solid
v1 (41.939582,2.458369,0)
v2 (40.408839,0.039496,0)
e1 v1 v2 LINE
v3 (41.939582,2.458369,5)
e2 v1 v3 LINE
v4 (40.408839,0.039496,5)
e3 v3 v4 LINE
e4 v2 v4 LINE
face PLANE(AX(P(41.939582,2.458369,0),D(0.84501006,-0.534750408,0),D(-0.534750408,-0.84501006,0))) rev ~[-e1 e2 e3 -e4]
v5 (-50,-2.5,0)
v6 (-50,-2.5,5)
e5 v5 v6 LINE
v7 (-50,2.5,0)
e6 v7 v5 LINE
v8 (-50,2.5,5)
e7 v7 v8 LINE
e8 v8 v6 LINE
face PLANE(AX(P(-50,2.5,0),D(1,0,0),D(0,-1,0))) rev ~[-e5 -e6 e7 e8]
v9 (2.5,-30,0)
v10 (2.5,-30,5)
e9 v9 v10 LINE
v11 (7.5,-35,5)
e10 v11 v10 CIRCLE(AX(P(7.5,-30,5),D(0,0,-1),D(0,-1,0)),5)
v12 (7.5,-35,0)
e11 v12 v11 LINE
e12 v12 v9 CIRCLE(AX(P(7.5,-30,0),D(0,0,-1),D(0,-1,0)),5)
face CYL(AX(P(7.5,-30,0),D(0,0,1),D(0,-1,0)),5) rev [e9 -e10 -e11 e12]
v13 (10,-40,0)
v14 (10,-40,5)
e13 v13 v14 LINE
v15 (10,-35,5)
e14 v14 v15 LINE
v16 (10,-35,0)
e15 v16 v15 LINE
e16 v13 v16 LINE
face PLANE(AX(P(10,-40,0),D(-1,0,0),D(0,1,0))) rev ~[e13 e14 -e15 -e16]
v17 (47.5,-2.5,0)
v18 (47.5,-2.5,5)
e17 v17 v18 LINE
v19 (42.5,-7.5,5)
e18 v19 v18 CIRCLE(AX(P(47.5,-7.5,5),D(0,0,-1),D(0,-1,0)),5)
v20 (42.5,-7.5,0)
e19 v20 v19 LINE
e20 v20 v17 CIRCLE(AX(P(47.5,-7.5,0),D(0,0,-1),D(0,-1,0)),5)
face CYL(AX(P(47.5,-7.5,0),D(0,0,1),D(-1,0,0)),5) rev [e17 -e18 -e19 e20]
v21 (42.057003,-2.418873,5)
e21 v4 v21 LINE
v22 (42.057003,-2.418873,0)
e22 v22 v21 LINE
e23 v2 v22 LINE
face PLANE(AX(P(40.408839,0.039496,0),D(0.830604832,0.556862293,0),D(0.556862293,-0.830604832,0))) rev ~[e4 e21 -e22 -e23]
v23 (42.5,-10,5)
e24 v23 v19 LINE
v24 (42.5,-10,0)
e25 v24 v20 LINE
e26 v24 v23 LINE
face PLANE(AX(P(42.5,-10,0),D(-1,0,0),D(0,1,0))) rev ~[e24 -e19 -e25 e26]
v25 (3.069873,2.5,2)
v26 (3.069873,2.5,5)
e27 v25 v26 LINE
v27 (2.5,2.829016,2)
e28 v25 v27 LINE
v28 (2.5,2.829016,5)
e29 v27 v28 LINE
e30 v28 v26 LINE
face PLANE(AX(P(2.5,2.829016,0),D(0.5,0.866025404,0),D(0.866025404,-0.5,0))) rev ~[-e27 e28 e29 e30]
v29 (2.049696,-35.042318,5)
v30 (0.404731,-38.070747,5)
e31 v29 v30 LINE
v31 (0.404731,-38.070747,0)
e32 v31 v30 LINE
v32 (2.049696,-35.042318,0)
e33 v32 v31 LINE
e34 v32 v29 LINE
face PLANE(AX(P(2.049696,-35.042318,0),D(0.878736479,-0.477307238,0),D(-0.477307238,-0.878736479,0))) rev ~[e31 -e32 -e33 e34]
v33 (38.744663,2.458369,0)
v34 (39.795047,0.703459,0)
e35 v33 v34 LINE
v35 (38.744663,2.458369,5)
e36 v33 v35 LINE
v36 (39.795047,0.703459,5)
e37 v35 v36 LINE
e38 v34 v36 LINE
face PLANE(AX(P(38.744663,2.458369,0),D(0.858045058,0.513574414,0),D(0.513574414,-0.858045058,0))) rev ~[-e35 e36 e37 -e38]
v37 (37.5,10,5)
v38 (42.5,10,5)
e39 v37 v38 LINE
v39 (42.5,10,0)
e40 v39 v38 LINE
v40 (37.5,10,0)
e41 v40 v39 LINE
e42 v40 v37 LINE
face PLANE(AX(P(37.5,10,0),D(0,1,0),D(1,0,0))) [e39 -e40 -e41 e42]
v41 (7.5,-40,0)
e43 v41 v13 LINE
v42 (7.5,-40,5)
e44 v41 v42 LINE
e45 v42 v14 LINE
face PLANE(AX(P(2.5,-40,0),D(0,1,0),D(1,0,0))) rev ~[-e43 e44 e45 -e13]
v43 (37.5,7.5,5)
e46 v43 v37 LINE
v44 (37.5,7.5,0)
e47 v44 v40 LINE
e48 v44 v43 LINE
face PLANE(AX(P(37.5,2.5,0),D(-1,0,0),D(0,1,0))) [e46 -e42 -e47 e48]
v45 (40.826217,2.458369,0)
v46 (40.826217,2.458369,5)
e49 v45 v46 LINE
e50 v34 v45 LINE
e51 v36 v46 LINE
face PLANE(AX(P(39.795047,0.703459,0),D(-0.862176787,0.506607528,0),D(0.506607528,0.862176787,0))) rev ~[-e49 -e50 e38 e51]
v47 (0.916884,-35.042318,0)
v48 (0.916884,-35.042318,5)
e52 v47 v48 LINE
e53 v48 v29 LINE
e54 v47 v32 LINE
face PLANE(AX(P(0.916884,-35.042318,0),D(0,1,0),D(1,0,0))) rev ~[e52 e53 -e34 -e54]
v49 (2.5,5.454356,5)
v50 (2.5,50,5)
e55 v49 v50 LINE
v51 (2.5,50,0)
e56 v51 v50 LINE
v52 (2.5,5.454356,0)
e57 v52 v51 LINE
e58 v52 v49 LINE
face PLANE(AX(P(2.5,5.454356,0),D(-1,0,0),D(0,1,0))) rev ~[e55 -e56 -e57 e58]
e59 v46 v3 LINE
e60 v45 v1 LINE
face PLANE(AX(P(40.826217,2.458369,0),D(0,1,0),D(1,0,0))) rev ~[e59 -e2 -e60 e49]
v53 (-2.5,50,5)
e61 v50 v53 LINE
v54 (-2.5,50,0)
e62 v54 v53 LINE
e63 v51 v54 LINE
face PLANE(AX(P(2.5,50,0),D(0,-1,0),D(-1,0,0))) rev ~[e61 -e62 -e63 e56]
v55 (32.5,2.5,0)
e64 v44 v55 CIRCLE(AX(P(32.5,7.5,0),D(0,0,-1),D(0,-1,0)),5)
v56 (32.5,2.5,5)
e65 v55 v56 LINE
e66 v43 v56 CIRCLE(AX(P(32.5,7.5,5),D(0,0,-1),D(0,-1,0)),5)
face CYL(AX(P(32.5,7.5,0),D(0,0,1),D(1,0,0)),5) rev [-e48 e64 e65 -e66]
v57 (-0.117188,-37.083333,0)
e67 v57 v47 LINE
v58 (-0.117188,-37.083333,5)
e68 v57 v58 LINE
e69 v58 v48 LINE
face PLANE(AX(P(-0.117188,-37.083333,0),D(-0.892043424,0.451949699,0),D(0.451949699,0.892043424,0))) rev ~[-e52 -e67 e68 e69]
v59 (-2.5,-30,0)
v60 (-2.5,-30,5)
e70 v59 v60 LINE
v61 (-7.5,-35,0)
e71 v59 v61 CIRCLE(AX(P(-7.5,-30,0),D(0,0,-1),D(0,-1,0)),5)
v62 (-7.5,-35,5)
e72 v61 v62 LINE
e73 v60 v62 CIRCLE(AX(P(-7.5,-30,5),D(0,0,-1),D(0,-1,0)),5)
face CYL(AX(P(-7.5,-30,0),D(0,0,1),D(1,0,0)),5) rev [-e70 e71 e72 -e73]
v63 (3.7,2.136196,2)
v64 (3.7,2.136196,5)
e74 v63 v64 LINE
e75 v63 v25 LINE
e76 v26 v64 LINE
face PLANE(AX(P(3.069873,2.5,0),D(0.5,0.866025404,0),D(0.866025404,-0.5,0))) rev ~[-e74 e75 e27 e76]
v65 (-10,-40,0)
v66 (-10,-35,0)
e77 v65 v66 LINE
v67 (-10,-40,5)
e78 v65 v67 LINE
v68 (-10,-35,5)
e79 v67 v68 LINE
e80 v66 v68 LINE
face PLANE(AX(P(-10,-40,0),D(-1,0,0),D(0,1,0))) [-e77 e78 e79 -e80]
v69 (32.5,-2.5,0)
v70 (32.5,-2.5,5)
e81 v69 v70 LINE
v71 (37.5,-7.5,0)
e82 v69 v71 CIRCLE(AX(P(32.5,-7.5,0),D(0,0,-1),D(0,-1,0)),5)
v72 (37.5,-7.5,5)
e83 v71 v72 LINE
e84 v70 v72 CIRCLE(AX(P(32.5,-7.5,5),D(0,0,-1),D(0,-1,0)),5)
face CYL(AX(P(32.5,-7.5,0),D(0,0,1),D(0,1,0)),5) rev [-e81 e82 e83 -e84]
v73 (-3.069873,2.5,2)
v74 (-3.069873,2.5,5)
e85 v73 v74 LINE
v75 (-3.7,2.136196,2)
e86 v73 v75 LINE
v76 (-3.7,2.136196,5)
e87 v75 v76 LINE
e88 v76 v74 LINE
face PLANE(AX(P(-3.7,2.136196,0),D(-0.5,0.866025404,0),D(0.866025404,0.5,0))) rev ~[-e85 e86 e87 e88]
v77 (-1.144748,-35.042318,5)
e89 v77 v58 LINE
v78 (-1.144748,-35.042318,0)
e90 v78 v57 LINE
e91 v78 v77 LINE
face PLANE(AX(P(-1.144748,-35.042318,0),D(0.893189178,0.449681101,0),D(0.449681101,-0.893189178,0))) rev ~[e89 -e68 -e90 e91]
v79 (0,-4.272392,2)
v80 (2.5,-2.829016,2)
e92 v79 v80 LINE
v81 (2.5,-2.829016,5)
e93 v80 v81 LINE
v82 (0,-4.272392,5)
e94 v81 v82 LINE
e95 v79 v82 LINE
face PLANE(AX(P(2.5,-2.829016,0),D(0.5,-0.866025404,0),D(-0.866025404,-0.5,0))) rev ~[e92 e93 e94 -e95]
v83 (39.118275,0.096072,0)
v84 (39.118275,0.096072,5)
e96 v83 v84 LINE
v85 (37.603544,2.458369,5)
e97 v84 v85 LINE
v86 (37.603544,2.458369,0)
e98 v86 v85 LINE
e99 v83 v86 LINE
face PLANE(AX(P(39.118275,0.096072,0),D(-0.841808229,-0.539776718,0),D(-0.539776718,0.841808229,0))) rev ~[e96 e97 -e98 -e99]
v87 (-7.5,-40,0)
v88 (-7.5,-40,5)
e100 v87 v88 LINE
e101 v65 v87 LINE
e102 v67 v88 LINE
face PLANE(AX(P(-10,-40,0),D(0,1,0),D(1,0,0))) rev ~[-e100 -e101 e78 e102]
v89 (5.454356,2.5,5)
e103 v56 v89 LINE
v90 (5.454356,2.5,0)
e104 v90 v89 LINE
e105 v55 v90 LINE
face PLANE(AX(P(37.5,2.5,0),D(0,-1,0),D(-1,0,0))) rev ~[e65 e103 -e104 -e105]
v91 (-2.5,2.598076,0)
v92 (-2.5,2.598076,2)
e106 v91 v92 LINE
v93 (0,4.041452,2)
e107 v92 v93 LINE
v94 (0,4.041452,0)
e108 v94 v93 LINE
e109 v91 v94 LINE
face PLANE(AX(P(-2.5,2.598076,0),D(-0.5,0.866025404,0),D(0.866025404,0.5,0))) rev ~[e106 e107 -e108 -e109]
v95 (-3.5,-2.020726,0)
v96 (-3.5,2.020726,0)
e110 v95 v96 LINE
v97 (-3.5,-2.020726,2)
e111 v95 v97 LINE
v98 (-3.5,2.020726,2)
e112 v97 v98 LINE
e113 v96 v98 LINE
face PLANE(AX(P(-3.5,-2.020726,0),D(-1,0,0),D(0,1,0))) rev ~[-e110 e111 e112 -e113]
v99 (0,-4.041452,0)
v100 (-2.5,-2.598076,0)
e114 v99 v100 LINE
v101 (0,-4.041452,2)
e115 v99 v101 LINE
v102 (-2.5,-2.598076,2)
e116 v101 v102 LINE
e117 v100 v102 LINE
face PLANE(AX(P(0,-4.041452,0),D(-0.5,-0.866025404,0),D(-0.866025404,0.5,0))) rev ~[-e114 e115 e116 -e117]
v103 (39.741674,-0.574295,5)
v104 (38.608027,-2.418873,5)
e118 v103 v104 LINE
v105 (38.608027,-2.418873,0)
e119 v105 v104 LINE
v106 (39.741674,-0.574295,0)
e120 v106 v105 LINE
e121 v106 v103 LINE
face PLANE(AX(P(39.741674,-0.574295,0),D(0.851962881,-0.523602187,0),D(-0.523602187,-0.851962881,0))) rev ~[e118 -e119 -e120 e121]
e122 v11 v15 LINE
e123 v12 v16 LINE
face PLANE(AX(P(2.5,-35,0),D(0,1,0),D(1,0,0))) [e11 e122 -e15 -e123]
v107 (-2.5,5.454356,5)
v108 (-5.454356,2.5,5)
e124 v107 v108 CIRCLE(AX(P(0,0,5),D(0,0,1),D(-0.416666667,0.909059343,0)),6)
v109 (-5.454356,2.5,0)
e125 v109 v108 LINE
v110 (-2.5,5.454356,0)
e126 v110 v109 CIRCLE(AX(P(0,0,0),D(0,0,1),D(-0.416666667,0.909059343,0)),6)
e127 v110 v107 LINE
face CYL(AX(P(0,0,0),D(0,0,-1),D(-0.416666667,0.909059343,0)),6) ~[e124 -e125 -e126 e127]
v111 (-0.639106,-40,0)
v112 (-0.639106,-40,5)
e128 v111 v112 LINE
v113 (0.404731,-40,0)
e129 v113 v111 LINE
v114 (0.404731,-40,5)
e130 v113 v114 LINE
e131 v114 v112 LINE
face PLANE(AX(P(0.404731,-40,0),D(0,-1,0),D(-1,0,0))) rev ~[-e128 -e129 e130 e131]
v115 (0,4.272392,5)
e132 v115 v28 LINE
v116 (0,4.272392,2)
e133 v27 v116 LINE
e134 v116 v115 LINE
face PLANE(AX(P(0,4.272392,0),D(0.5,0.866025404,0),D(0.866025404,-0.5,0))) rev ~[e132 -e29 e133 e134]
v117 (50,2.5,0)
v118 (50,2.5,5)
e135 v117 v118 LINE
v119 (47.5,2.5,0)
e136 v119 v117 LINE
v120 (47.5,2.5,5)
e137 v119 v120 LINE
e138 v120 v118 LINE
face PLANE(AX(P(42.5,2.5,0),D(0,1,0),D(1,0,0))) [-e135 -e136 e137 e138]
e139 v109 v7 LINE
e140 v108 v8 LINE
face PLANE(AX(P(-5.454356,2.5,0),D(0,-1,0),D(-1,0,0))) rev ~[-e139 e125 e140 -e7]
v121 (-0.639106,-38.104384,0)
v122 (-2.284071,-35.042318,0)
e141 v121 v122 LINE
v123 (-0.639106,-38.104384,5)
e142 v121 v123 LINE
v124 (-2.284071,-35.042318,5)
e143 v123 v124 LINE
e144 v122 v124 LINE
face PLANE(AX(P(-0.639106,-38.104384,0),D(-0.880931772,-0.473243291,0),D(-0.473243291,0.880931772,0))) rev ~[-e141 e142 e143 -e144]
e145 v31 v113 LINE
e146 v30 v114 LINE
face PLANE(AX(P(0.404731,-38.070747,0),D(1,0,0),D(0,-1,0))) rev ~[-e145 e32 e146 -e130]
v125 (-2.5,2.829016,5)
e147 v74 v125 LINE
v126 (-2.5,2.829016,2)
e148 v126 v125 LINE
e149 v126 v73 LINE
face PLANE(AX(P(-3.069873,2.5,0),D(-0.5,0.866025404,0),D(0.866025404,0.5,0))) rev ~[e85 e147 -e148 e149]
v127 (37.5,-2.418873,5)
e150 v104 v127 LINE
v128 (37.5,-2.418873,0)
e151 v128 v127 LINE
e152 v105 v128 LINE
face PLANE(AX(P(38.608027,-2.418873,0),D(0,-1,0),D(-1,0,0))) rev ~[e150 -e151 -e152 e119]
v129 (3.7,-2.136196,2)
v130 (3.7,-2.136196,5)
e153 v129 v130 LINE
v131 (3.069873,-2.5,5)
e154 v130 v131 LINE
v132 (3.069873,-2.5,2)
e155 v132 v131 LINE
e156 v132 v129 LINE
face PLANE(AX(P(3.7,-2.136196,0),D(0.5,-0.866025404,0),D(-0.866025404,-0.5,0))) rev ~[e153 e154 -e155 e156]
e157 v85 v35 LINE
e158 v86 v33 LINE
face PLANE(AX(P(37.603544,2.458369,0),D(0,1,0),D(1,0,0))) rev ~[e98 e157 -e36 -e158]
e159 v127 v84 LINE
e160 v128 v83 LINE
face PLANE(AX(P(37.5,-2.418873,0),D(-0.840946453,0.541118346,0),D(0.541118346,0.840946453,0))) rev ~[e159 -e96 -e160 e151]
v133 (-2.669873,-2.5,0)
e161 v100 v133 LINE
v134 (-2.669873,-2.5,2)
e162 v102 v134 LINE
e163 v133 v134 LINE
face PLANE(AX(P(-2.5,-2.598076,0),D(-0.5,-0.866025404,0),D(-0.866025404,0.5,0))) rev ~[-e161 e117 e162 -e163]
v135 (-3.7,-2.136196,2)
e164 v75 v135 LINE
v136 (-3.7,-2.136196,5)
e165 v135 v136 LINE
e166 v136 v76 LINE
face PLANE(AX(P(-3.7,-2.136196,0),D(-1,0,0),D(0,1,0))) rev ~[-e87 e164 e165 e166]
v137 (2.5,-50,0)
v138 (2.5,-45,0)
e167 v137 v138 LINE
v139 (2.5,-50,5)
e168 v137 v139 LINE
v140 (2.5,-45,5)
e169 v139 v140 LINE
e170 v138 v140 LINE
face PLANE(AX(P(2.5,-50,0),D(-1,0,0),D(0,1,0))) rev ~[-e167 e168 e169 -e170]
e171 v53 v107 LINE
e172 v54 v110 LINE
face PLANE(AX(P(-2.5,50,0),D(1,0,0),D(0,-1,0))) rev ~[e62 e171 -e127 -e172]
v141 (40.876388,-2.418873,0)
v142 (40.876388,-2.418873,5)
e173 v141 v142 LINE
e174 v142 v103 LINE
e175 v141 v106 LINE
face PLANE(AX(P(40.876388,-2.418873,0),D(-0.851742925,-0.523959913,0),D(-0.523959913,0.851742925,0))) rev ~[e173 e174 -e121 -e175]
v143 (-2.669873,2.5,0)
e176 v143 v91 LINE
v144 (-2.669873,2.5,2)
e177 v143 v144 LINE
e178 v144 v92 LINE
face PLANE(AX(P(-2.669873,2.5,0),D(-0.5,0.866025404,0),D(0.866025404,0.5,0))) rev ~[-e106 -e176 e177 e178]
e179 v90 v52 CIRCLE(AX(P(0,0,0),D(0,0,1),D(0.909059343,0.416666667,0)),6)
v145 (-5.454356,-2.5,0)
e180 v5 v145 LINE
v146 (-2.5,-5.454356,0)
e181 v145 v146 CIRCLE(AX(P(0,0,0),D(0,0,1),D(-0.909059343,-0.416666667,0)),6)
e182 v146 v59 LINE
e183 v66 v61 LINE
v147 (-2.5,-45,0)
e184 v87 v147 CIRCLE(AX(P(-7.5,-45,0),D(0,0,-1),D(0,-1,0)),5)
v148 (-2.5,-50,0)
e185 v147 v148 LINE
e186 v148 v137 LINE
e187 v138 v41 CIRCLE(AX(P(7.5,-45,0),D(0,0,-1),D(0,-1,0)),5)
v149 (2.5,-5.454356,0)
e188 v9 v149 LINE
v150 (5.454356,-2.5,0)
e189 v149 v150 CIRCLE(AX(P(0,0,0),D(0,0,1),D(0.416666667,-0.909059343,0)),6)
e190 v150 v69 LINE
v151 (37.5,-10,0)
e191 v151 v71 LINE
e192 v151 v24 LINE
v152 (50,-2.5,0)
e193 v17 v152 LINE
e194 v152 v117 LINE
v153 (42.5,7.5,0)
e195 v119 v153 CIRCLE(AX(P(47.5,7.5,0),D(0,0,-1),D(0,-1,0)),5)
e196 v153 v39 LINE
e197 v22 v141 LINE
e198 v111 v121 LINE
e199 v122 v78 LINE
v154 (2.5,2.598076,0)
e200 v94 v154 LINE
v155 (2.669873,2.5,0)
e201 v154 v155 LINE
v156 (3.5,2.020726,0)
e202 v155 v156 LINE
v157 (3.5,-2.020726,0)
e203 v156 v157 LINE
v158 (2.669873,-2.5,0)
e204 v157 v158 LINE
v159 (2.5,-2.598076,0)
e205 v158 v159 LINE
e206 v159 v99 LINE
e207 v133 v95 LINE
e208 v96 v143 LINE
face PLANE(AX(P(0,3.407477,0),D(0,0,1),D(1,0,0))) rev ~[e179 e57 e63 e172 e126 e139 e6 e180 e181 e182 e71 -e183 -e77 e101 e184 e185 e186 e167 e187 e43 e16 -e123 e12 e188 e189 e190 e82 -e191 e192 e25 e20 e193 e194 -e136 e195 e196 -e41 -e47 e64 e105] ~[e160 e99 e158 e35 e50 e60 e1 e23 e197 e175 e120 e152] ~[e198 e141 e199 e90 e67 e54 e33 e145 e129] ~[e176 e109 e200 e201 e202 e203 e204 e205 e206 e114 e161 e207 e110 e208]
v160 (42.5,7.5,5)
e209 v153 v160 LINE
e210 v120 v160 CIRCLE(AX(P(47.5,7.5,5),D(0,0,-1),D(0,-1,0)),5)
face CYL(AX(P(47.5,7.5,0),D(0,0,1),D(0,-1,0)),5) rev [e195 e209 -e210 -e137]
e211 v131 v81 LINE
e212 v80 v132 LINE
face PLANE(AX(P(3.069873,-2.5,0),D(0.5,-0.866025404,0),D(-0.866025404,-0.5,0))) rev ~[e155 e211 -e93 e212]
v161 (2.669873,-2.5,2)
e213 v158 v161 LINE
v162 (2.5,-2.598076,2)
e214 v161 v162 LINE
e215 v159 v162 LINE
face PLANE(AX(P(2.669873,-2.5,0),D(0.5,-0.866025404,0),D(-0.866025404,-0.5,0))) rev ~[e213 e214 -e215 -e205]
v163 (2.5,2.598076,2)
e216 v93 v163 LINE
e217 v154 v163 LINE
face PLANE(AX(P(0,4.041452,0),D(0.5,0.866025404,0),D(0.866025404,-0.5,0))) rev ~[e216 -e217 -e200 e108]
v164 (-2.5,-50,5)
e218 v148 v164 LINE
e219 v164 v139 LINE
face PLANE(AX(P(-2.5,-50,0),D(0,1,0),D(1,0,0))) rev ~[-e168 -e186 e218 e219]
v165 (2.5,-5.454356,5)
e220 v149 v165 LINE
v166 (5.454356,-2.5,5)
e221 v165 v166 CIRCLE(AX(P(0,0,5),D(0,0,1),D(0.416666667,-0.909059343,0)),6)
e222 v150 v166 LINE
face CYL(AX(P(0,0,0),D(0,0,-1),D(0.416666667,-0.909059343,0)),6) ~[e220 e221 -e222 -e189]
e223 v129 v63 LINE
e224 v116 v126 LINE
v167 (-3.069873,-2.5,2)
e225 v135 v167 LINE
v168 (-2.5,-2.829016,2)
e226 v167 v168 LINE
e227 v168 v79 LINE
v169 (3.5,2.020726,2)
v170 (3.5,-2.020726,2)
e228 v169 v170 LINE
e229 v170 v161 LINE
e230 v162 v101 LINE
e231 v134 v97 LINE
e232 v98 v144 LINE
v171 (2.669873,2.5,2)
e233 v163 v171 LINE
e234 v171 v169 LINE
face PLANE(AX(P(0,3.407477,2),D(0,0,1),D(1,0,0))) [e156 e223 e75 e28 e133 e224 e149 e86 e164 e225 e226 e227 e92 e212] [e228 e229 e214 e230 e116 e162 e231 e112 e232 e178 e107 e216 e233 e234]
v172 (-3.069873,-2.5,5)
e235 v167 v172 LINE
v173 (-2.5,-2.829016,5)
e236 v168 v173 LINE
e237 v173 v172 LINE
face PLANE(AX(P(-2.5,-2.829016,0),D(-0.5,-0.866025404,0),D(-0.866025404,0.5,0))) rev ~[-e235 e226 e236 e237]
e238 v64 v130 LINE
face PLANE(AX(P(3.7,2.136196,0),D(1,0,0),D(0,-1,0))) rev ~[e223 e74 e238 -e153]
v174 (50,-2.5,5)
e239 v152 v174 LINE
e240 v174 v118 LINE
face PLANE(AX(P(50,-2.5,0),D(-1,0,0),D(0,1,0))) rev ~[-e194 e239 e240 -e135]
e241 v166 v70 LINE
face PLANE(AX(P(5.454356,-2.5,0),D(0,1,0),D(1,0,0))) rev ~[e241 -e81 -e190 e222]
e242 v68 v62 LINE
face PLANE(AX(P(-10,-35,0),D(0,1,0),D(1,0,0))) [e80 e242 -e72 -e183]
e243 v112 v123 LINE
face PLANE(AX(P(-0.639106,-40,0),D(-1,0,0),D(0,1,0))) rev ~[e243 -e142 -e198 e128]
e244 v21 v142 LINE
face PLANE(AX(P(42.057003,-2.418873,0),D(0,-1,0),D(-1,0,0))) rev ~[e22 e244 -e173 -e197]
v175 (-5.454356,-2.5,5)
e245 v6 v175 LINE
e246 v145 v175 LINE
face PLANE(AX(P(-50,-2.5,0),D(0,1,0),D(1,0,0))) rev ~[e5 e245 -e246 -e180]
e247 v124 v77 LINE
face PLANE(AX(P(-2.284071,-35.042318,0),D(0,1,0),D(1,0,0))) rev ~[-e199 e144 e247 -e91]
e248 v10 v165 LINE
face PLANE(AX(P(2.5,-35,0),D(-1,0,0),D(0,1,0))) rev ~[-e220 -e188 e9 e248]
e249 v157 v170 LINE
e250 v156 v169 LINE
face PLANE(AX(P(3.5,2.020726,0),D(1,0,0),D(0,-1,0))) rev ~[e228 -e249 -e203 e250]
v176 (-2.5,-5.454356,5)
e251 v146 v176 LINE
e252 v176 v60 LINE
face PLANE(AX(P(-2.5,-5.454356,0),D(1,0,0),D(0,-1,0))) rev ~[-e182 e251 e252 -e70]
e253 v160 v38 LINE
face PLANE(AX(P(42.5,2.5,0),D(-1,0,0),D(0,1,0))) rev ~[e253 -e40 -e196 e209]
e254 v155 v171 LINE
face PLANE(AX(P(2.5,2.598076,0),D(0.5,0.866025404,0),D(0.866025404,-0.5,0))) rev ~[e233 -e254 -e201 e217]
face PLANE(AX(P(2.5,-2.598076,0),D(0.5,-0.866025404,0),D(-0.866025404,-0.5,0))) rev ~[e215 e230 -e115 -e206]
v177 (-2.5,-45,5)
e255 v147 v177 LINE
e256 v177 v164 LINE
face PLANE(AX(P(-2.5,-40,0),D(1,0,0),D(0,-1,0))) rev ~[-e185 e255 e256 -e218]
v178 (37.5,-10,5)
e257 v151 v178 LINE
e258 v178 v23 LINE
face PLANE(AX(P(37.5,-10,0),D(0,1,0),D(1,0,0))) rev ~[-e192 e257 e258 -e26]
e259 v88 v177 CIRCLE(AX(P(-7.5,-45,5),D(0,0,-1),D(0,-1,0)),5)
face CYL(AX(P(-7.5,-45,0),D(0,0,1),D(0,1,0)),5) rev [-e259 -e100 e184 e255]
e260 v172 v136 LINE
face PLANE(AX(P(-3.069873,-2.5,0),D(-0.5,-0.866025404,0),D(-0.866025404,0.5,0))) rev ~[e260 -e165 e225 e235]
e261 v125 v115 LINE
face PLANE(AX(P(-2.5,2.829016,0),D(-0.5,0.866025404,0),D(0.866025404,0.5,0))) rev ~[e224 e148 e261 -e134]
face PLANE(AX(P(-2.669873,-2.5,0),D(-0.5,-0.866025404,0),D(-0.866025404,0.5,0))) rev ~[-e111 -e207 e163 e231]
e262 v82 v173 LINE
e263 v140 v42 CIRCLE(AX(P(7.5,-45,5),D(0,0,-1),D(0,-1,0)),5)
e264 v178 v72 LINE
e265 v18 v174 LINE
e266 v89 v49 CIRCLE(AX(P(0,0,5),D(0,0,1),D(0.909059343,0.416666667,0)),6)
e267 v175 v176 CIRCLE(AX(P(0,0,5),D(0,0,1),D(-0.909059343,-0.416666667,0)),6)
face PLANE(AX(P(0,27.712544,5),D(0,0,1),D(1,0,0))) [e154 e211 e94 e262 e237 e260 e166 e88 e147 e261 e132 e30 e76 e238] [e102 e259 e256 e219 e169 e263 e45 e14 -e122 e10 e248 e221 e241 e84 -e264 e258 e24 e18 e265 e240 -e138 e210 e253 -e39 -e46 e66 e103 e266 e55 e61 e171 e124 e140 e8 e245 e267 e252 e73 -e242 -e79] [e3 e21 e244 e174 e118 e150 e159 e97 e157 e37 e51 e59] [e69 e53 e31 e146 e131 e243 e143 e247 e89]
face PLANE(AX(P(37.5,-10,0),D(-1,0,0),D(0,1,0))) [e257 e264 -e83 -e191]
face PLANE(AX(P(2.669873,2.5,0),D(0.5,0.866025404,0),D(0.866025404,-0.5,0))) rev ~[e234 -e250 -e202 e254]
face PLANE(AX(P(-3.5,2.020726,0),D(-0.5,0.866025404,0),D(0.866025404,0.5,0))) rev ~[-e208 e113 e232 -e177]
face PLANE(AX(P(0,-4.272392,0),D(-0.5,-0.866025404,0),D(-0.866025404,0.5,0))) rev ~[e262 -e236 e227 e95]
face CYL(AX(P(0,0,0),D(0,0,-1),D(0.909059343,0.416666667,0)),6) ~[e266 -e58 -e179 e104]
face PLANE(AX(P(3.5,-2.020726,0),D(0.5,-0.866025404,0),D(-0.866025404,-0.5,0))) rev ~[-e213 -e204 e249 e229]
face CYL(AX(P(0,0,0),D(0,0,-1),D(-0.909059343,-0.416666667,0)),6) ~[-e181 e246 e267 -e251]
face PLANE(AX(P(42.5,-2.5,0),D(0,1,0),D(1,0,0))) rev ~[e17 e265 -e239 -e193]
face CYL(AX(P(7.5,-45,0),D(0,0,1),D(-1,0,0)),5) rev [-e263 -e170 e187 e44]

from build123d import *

# Parameters (mm, degrees)
F0_W     = 5
F0_H     = 7.5
F0_W_2   = 7.5
F0_H_2   = 5
F1_DEPTH = 5
F2_DEPTH = 2
F3_R     = 5


with BuildPart() as f1:
    # F0 (on Top) → F1 (new body)
    with BuildSketch(Plane.XY):
        with BuildLine():
            Line((2.5, 5.4543560573), (2.5, 50))
            Line((2.5, 50), (-2.5, 50))
            Line((-2.5, 50), (-2.5, 5.4543560573))
            ThreePointArc((-2.5, 5.4543560573), (0, 6), (2.5, 5.4543560573))
        make_face()
        with BuildLine():
            ThreePointArc((5.4543560573, 2.5), (4.2426406871, 4.2426406871), (2.5, 5.4543560573))
            Line((2.5, 5.4543560573), (2.5, 2.829016319))
            Line((2.5, 2.829016319), (3.0698729811, 2.5))
            Line((3.0698729811, 2.5), (5.4543560573, 2.5))
        make_face()
        with BuildLine():
            Line((2.5, 2.829016319), (2.5, 5.4543560573))
            ThreePointArc((2.5, 5.4543560573), (0, 6), (-2.5, 5.4543560573))
            Line((-2.5, 5.4543560573), (-2.5, 2.829016319))
            Line((-2.5, 2.829016319), (0, 4.272391992))
            Line((0, 4.272391992), (2.5, 2.829016319))
        make_face()
        with BuildLine():
            Line((-2.5, 2.829016319), (-2.5, 5.4543560573))
            ThreePointArc((-2.5, 5.4543560573), (-4.2426406871, 4.2426406871), (-5.4543560573, 2.5))
            Line((-5.4543560573, 2.5), (-3.0698729811, 2.5))
            Line((-3.0698729811, 2.5), (-2.5, 2.829016319))
        make_face()
        with BuildLine():
            ThreePointArc((6, 0), (5.8620020617, 1.2794263668), (5.4543560573, 2.5))
            Line((5.4543560573, 2.5), (3.0698729811, 2.5))
            Line((3.0698729811, 2.5), (3.7, 2.136195996))
            Line((3.7, 2.136195996), (3.7, -2.136195996))
            Line((3.7, -2.136195996), (3.0698729811, -2.5))
            Line((3.0698729811, -2.5), (5.4543560573, -2.5))
            ThreePointArc((5.4543560573, -2.5), (5.8620020617, -1.2794263668), (6, 0))
        make_face()
        with BuildLine():
            Line((37.5, 2.5), (5.4543560573, 2.5))
            ThreePointArc((5.4543560573, 2.5), (5.8620020617, 1.2794263668), (6, 0))
            ThreePointArc((6, 0), (5.8620020617, -1.2794263668), (5.4543560573, -2.5))
            Line((5.4543560573, -2.5), (37.5, -2.5))
            Line((37.5, -2.5), (37.5, -2.4188727583))
            Line((37.5, -2.4188727583), (37.5, 2.5))
        make_face()
        with BuildLine():
            ThreePointArc((-5.4543560573, -2.5), (-6, 0), (-5.4543560573, 2.5))
            Line((-5.4543560573, 2.5), (-50, 2.5))
            Line((-50, 2.5), (-50, -2.5))
            Line((-50, -2.5), (-5.4543560573, -2.5))
        make_face()
        with BuildLine():
            Line((-3.0698729811, 2.5), (-5.4543560573, 2.5))
            ThreePointArc((-5.4543560573, 2.5), (-6, 0), (-5.4543560573, -2.5))
            Line((-5.4543560573, -2.5), (-3.0698729811, -2.5))
            Line((-3.0698729811, -2.5), (-3.7, -2.136195996))
            Line((-3.7, -2.136195996), (-3.7, 2.136195996))
            Line((-3.7, 2.136195996), (-3.0698729811, 2.5))
        make_face()
        with Locations((40, 6.25)):
            Rectangle(F0_W, F0_H)
        Polygon((42.5, 2.5), (37.5, 2.5), (37.5, -2.4188727583), (37.5, -2.5), (42.5, -2.5), align=None)
        Polygon((38.6080273271, -2.4188727583), (37.5, -2.4188727583), (39.1182749787, 0.0960717336), (37.6035439795, 2.4583689155), (38.7446626815, 2.4583689155), (39.7950469684, 0.7034585824), (40.8262169086, 2.4583689155), (41.9395815542, 2.4583689155), (40.4088385995, 0.0394961571), (42.0570025619, -2.4188727583), (40.8763877028, -2.4188727583), (39.7416737831, -0.574295474), align=None, mode=Mode.SUBTRACT)
        with BuildLine():
            Line((-3.0698729811, -2.5), (-5.4543560573, -2.5))
            ThreePointArc((-5.4543560573, -2.5), (-4.2426406871, -4.2426406871), (-2.5, -5.4543560573))
            Line((-2.5, -5.4543560573), (-2.5, -2.829016319))
            Line((-2.5, -2.829016319), (-3.0698729811, -2.5))
        make_face()
        with Locations((46.25, 0)):
            Rectangle(F0_W_2, F0_H_2)
        with BuildLine():
            ThreePointArc((2.5, -5.4543560573), (4.2426406871, -4.2426406871), (5.4543560573, -2.5))
            Line((5.4543560573, -2.5), (3.0698729811, -2.5))
            Line((3.0698729811, -2.5), (2.5, -2.829016319))
            Line((2.5, -2.829016319), (2.5, -5.4543560573))
        make_face()
        with BuildLine():
            ThreePointArc((2.5, -5.4543560573), (0, -6), (-2.5, -5.4543560573))
            Line((-2.5, -5.4543560573), (-2.5, -35))
            Line((-2.5, -35), (2.5, -35))
            Line((2.5, -35), (2.5, -5.4543560573))
        make_face()
        with BuildLine():
            Line((-2.5, -2.829016319), (-2.5, -5.4543560573))
            ThreePointArc((-2.5, -5.4543560573), (0, -6), (2.5, -5.4543560573))
            Line((2.5, -5.4543560573), (2.5, -2.829016319))
            Line((2.5, -2.829016319), (0, -4.272391992))
            Line((0, -4.272391992), (-2.5, -2.829016319))
        make_face()
        with Locations((40, -6.25)):
            Rectangle(F0_W, F0_H)
        Polygon((2.5, -35), (-2.5, -35), (-2.5, -40), (-0.6391059028, -40), (-0.6391059028, -38.1043836806), (-2.2840711806, -35.0423177083), (-1.1447482639, -35.0423177083), (-0.1171875, -37.0833333333), (0.9168836806, -35.0423177083), (2.0496961806, -35.0423177083), (0.4047309028, -38.0707465278), (0.4047309028, -40), (2.5, -40), align=None)
        with Locations((-6.25, -37.5)):
            Rectangle(F0_W_2, F0_H_2)
        with Locations((6.25, -37.5)):
            Rectangle(F0_W_2, F0_H_2)
        Polygon((-0.6391059028, -40), (-2.5, -40), (-2.5, -50), (2.5, -50), (2.5, -40), (0.4047309028, -40), align=None)
    extrude(amount=F1_DEPTH)

    # F0 (on Top) → F2 (join)
    with BuildSketch(Plane.XY):
        Polygon((2.5, 2.5980762114), (2.5, 2.829016319), (0, 4.272391992), (-2.5, 2.829016319), (-2.5, 2.5980762114), (0, 4.0414518843), align=None)
        Polygon((-2.6698729811, 2.5), (-3.0698729811, 2.5), (-3.7, 2.136195996), (-3.7, -2.136195996), (-3.0698729811, -2.5), (-2.6698729811, -2.5), (-3.5, -2.0207259422), (-3.5, 2.0207259422), align=None)
        Polygon((-2.5, 2.5980762114), (-2.5, 2.829016319), (-3.0698729811, 2.5), (-2.6698729811, 2.5), align=None)
        Polygon((-2.6698729811, -2.5), (-3.0698729811, -2.5), (-2.5, -2.829016319), (-2.5, -2.5980762114), align=None)
        Polygon((-2.5, -2.5980762114), (-2.5, -2.829016319), (0, -4.272391992), (2.5, -2.829016319), (2.5, -2.5980762114), (0, -4.0414518843), align=None)
        Polygon((2.5, -2.829016319), (3.0698729811, -2.5), (2.6698729811, -2.5), (2.5, -2.5980762114), align=None)
        Polygon((3.7, 2.136195996), (3.0698729811, 2.5), (2.6698729811, 2.5), (3.5, 2.0207259422), (3.5, -2.0207259422), (2.6698729811, -2.5), (3.0698729811, -2.5), (3.7, -2.136195996), align=None)
        Polygon((3.0698729811, 2.5), (2.5, 2.829016319), (2.5, 2.5980762114), (2.6698729811, 2.5), align=None)
    extrude(amount=F2_DEPTH)

    # F3
    f3_edges = [f1.edges().sort_by_distance(p)[0] for p in [
        (37.5, -2.5, 2.5),
        (-2.5, -40, 2.5),
        (-2.5, -35, 2.5),
        (37.5, 2.5, 2.5),
        (42.5, 2.5, 2.5),
        (2.5, -35, 2.5),
        (2.5, -40, 2.5),
        (42.5, -2.5, 2.5),
    ]]
    fillet(f3_edges, radius=F3_R)


solid = f1.part
